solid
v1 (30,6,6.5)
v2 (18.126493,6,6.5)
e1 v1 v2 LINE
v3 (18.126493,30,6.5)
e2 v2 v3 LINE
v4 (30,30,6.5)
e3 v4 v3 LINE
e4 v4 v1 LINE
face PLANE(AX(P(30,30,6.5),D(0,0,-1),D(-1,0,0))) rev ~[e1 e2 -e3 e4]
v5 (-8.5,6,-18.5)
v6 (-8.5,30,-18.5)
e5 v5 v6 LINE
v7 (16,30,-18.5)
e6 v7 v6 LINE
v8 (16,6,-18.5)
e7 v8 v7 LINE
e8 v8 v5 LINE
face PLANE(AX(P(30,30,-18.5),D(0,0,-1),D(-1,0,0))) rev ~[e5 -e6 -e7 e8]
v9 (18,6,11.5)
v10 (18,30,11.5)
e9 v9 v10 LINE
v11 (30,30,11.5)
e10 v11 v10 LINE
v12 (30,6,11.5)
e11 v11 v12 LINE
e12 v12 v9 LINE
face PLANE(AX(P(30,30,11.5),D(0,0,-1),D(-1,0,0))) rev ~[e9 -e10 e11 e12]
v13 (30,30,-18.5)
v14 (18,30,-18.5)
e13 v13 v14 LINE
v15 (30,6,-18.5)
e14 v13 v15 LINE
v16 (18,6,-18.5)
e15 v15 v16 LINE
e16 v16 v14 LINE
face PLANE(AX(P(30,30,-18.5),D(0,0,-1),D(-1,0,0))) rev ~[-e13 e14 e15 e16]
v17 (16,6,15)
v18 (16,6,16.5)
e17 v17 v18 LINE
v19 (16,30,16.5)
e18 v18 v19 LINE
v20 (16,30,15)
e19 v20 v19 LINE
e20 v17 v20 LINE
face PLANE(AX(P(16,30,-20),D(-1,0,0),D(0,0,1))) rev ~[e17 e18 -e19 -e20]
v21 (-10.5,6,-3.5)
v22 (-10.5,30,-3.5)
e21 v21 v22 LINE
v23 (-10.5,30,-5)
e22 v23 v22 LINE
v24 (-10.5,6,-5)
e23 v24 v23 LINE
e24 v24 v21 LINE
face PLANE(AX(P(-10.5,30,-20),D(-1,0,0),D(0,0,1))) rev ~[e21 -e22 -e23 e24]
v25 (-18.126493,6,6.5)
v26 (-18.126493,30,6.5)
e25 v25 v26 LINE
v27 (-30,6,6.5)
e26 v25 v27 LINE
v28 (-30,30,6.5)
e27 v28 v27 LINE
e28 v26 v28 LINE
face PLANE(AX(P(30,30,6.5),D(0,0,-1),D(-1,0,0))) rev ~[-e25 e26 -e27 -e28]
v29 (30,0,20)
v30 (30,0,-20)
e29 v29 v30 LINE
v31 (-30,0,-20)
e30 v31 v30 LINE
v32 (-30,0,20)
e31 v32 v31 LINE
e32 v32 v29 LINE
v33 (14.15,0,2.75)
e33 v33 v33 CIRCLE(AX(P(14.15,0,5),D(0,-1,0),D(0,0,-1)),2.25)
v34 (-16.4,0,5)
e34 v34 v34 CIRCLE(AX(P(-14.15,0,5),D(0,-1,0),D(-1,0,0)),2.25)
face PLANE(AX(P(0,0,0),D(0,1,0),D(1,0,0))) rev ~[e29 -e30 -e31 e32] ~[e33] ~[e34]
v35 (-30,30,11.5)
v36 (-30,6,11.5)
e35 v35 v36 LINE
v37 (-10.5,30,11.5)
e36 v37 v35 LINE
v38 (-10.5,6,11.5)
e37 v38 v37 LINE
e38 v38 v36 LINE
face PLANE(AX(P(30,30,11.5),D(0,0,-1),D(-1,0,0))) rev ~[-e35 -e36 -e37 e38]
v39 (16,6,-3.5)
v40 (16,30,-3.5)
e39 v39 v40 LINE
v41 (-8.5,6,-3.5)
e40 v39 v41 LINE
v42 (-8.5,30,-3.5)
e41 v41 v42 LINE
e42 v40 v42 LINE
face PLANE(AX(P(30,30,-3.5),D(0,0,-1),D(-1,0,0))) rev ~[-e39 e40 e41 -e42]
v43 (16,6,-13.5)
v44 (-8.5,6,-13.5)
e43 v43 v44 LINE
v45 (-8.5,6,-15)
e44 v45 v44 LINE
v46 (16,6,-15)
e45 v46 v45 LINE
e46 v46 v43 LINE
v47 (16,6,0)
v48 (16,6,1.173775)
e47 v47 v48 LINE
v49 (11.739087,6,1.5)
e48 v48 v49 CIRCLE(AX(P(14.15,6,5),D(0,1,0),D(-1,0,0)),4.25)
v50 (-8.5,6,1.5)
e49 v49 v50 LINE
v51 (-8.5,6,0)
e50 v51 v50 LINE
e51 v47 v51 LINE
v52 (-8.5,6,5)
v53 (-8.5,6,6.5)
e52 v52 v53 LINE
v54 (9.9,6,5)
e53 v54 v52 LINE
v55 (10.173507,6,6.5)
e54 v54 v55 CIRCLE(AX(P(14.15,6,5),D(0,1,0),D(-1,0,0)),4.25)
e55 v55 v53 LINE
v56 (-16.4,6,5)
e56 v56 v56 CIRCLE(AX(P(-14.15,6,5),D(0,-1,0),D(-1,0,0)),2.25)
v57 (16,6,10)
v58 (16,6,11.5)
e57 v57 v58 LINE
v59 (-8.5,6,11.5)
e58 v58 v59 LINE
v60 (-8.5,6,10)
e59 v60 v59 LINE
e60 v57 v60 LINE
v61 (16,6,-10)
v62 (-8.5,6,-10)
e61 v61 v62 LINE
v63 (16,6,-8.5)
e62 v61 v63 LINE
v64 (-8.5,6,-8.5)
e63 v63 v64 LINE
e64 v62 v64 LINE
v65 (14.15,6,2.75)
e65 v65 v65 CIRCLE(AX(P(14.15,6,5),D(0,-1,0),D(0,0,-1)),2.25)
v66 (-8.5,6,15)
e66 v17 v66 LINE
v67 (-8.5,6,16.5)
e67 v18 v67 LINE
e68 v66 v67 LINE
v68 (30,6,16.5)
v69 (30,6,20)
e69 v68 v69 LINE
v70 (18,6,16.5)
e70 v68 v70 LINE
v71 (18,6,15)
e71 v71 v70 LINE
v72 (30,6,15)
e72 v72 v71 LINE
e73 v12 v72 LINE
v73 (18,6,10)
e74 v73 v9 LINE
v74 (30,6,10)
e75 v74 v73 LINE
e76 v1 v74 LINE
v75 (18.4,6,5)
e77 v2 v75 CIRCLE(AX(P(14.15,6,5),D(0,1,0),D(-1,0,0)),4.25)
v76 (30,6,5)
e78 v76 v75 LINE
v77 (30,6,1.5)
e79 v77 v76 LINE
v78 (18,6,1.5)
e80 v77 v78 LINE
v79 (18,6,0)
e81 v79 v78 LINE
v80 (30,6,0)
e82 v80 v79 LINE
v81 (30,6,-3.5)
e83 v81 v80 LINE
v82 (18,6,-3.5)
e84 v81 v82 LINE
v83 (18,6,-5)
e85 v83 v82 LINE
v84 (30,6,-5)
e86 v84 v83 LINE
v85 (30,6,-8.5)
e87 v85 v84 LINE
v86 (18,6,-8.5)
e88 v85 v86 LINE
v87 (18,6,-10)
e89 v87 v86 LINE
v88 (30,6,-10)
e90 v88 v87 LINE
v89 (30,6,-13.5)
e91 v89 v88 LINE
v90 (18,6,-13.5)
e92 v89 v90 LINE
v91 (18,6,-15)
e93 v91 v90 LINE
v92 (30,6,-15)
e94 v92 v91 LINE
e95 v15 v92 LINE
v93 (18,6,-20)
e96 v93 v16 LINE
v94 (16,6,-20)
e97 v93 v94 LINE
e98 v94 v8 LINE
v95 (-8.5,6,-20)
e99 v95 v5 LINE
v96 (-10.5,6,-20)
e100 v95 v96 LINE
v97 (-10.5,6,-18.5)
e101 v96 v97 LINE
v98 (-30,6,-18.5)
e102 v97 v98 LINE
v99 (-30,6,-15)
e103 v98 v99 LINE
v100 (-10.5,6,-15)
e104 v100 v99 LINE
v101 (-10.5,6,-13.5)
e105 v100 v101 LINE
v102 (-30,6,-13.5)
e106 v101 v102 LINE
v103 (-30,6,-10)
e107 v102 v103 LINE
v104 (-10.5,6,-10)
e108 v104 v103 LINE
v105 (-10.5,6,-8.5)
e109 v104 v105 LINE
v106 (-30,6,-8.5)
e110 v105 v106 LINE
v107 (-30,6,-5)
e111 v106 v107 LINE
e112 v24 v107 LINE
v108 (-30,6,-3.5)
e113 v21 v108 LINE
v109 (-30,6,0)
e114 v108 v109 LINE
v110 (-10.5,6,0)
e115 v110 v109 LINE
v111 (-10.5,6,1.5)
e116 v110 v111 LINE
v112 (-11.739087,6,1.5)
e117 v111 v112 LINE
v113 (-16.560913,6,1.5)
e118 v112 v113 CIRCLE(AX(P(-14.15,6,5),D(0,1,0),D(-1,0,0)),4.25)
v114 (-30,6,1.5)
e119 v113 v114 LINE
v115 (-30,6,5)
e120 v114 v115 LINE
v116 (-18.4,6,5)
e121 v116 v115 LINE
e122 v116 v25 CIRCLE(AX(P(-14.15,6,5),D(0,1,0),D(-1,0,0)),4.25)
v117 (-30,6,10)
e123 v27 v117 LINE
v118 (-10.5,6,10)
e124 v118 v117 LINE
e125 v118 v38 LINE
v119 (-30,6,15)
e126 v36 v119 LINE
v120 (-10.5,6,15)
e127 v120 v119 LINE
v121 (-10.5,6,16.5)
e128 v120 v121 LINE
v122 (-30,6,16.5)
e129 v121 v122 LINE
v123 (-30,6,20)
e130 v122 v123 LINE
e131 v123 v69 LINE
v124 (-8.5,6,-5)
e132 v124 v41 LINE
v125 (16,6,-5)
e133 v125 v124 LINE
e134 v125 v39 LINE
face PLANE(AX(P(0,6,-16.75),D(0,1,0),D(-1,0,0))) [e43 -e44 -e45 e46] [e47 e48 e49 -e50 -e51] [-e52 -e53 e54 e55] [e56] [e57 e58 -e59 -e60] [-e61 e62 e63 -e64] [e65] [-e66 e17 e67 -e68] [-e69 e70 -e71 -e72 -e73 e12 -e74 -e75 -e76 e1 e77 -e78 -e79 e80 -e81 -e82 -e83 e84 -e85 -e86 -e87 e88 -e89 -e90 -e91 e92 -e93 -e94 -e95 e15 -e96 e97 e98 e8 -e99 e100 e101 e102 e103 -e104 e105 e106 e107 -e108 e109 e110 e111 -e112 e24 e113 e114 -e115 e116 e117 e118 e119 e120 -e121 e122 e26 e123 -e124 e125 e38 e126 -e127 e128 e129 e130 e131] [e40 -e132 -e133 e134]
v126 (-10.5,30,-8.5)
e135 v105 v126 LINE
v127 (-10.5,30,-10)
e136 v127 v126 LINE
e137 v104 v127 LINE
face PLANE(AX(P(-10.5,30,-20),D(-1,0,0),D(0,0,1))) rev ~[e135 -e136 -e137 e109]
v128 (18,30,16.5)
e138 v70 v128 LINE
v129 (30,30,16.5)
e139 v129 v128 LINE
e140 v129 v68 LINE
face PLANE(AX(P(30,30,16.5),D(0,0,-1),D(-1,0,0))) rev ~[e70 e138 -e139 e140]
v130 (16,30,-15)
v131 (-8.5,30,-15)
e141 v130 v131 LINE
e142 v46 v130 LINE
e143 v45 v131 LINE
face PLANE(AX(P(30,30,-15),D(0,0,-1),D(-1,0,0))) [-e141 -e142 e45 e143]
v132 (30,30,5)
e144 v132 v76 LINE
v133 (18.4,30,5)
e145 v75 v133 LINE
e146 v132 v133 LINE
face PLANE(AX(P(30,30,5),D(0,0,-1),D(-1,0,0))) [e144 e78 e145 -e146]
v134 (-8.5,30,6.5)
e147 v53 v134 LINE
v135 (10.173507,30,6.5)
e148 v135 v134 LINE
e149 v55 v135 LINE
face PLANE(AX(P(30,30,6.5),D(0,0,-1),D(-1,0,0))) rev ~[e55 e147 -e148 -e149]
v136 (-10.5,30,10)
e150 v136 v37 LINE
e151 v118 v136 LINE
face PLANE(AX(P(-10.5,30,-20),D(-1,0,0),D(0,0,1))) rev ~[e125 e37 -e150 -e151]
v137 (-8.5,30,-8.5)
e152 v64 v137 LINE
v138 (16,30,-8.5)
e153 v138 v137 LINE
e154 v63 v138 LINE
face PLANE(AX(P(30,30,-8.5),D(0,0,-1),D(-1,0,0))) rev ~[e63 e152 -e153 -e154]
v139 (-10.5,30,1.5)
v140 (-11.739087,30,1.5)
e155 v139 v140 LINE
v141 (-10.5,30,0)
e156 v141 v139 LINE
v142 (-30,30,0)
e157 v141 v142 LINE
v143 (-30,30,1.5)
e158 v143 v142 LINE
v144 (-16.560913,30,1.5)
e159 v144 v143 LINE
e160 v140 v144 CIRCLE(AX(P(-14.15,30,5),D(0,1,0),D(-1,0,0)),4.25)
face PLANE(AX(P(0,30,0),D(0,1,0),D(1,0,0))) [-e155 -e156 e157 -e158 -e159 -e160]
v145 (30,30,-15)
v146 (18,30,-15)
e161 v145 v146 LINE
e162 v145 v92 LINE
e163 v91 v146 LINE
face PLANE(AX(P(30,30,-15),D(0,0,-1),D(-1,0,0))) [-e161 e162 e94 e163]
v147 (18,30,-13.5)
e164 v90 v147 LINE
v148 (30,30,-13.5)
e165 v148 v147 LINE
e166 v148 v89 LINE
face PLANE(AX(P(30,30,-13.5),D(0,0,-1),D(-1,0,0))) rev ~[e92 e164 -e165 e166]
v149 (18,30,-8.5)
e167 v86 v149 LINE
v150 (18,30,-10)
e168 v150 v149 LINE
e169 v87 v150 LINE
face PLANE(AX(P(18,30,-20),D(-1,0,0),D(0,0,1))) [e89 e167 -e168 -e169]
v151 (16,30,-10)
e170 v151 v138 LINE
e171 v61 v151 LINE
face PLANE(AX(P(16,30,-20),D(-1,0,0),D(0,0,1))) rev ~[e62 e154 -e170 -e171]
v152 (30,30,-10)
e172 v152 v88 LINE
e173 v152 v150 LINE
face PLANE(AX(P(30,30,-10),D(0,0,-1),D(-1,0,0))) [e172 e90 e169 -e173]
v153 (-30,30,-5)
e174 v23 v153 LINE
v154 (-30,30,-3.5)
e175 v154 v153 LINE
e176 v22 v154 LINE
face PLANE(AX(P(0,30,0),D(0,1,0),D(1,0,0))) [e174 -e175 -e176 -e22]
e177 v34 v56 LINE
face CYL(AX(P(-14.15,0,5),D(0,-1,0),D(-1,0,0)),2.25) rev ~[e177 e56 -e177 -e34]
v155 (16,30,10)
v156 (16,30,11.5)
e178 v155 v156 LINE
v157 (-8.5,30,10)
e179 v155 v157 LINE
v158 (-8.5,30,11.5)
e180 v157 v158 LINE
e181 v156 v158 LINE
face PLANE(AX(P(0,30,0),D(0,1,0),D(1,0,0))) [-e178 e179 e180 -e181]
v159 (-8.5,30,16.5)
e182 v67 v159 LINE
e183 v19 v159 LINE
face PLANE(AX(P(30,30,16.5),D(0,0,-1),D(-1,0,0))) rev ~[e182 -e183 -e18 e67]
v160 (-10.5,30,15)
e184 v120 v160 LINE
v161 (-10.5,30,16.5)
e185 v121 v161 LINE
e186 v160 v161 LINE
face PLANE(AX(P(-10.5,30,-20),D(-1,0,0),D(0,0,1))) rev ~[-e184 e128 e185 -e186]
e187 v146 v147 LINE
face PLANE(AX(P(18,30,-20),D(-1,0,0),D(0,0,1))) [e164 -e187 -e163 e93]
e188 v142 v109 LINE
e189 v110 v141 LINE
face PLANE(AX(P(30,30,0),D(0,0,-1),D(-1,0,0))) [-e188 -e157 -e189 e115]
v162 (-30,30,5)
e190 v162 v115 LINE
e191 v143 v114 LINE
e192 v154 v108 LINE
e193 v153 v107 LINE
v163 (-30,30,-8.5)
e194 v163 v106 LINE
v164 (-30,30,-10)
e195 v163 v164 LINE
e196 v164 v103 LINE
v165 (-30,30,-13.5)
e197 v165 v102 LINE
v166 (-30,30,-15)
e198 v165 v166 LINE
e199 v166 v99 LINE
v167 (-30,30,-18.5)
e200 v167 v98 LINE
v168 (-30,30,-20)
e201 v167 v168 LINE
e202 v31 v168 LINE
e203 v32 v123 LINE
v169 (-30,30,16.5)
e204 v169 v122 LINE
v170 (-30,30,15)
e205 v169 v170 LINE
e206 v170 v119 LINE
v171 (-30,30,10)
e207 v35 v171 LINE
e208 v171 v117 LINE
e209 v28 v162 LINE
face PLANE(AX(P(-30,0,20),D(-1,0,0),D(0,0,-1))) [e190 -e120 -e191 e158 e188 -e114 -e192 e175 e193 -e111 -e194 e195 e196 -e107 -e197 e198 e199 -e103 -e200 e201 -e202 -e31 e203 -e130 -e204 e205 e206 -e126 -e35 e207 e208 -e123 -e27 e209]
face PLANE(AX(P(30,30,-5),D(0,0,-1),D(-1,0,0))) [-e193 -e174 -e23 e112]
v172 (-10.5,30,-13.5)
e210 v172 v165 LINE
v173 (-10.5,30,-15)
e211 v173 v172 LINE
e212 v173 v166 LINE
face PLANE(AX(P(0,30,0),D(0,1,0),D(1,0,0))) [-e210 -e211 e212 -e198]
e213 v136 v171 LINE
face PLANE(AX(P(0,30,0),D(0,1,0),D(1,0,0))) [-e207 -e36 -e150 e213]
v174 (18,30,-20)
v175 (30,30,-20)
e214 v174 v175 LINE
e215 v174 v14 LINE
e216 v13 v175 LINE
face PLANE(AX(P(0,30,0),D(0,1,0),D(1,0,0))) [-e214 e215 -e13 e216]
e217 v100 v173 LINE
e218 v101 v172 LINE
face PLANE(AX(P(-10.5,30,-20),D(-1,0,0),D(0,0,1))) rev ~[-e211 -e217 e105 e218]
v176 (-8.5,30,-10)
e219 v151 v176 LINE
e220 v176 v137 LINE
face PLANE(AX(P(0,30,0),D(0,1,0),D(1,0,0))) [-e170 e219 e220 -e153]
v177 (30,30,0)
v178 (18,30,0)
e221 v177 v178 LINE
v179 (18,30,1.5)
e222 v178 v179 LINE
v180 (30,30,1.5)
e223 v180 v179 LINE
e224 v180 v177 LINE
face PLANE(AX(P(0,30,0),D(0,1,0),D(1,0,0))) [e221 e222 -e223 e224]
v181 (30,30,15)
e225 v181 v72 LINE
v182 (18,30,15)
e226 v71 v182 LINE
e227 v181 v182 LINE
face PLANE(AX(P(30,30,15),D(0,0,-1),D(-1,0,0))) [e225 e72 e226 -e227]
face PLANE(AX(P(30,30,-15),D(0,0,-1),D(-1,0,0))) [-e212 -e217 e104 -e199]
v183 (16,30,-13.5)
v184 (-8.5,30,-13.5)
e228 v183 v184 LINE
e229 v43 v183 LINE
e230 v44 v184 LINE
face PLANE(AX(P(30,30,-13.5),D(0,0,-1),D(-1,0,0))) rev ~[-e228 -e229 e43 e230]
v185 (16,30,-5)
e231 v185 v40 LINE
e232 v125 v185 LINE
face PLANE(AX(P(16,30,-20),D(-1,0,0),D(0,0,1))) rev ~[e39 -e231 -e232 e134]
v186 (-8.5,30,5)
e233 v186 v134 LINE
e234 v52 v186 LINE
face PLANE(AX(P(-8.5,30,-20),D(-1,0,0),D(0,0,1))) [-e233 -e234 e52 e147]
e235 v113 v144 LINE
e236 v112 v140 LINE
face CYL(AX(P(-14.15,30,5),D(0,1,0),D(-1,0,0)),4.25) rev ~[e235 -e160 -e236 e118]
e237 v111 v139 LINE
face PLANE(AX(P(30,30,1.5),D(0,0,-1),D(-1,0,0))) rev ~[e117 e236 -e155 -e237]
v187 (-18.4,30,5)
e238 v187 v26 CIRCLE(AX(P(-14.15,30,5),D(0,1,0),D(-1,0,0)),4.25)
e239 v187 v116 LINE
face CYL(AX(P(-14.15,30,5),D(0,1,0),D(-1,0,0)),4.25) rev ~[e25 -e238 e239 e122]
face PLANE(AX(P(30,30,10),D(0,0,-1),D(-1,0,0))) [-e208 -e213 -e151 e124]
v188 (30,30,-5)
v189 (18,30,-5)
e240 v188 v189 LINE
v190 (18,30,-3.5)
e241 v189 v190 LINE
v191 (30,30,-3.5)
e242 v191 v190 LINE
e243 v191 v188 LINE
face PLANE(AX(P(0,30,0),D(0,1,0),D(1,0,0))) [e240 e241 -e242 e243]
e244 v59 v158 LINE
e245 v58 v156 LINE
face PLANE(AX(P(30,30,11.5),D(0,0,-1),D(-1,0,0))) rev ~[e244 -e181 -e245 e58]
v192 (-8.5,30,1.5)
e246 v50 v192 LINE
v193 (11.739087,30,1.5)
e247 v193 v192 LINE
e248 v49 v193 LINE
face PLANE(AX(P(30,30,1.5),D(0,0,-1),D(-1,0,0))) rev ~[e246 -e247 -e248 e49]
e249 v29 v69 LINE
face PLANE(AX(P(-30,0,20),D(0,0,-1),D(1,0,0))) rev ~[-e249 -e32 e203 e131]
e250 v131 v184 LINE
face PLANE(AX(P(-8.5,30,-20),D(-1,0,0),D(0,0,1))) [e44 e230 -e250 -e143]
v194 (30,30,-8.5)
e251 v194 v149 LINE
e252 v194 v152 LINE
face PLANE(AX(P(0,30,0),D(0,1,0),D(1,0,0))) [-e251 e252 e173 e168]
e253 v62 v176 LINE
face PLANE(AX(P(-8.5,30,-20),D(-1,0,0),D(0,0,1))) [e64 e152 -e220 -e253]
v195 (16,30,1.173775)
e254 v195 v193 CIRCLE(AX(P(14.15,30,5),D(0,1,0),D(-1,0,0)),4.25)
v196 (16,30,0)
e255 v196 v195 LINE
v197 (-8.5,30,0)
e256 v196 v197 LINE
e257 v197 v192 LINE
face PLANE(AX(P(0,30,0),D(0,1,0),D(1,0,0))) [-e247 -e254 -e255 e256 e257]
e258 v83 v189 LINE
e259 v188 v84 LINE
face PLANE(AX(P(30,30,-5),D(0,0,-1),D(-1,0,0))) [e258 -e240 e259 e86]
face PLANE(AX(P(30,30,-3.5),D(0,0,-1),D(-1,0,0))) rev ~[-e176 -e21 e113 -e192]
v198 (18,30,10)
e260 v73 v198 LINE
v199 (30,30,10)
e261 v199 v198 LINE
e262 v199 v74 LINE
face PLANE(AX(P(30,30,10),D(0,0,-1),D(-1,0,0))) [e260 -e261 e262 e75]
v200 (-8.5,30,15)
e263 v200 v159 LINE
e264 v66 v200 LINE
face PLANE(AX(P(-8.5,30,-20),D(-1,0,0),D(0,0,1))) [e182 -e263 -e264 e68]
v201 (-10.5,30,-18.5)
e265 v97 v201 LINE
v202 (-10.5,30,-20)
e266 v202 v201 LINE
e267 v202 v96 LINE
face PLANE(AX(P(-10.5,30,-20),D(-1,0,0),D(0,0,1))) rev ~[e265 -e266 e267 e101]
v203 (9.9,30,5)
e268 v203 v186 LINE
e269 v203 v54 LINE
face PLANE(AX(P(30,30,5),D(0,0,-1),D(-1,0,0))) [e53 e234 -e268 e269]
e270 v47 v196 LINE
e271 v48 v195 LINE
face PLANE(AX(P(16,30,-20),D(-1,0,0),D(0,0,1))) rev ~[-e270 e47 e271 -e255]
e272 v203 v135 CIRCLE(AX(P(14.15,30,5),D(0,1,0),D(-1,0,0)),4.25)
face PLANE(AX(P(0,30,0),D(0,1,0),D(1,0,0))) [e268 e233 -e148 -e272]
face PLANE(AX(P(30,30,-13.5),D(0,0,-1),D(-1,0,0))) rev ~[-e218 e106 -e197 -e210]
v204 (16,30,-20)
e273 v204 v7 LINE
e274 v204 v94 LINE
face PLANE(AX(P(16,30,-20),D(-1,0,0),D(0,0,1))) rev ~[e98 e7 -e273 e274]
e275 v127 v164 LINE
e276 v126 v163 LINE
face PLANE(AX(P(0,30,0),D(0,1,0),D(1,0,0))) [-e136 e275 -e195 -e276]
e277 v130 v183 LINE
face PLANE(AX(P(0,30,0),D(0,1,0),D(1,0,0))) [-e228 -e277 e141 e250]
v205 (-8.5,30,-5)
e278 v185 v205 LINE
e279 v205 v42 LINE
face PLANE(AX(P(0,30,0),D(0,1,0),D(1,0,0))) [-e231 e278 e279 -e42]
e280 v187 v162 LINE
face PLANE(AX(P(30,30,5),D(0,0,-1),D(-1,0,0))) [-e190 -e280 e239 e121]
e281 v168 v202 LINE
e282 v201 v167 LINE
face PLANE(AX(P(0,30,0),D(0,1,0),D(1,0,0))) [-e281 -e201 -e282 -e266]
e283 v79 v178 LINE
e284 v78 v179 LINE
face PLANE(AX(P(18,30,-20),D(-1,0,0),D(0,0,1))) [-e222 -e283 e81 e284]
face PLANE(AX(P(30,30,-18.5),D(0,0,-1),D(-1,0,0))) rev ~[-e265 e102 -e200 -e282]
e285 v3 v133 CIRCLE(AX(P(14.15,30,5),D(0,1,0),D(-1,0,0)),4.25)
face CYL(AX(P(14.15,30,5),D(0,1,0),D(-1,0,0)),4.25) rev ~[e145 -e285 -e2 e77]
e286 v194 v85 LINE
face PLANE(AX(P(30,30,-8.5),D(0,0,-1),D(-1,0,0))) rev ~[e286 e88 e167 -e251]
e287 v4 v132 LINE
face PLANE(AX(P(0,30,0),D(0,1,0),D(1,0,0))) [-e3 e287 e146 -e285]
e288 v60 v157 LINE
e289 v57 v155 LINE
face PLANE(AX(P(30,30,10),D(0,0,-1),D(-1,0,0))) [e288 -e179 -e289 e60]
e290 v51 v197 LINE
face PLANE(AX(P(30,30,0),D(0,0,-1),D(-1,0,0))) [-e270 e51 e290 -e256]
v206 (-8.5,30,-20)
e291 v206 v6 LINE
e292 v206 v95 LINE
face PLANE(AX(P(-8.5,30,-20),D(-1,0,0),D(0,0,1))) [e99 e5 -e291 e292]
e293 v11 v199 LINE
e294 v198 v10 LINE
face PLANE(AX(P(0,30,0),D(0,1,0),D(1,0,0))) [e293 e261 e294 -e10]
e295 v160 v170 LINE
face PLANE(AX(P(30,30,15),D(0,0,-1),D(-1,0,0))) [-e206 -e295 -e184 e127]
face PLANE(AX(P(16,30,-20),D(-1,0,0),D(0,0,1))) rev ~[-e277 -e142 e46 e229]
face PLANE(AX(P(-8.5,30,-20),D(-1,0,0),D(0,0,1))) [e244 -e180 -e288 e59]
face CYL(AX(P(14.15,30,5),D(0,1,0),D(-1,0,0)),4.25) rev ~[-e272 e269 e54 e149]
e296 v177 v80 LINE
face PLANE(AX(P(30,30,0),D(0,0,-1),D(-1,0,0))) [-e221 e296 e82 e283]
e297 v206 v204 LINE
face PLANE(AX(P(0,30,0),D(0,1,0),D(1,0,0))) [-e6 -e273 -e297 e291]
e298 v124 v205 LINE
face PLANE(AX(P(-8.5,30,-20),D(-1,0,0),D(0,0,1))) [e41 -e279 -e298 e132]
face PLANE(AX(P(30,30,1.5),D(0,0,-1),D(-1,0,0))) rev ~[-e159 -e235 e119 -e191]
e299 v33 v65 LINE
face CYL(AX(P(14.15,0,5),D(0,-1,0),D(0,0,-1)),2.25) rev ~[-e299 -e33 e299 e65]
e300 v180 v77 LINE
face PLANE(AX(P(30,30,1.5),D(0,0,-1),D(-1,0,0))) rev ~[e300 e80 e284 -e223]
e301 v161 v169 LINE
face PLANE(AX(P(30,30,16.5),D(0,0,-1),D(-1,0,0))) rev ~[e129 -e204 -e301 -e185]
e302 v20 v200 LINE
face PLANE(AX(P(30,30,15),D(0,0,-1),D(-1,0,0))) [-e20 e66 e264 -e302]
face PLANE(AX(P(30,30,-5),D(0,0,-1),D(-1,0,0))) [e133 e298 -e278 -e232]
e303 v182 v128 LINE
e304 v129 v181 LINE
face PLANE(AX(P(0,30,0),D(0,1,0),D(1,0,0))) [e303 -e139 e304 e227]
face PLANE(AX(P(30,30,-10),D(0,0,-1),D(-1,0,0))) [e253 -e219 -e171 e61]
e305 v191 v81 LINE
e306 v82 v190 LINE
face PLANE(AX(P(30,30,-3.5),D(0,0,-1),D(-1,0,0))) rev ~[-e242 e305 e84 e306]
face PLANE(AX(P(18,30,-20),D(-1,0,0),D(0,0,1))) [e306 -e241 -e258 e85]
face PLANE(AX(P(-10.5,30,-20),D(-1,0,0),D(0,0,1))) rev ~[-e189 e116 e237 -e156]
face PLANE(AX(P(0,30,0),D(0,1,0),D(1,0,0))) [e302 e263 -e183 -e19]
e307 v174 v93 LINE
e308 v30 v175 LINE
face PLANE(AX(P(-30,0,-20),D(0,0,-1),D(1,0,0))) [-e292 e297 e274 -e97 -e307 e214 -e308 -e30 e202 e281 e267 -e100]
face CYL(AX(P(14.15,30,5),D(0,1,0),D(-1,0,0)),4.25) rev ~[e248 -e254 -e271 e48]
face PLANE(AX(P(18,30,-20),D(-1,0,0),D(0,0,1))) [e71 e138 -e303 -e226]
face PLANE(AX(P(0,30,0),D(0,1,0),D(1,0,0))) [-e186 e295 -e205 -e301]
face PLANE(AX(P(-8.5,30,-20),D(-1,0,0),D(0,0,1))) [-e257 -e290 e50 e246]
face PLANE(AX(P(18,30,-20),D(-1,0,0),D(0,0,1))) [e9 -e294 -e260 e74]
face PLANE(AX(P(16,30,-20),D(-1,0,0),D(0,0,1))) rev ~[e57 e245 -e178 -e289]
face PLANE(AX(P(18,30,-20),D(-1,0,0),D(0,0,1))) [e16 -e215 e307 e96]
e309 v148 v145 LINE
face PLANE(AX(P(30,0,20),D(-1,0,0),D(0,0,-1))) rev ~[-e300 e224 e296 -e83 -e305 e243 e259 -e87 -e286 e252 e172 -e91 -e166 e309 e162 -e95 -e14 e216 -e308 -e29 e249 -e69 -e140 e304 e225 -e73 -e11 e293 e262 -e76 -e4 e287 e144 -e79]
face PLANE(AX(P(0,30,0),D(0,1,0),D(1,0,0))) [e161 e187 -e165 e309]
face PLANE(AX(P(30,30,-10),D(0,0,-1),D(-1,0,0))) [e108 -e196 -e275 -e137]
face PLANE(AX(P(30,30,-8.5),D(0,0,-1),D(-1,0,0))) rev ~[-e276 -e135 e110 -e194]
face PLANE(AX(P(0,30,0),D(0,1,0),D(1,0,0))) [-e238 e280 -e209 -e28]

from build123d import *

# Parameters (mm, degrees)
SKETCH_1_W          = 60
SKETCH_1_H          = 40
EXTRUDE_1_DEPTH     = 30
SKETCH_2_W          = 60
SKETCH_2_H          = 3.5
CUT_EXTRUDE_1_DEPTH = 24
SKETCH_3_W          = 2
SKETCH_3_H          = 40
CUT_EXTRUDE_2_DEPTH = 24
SKETCH_4_R          = 2.25
CUT_EXTRUDE_3_DEPTH = 47.904157598
SKETCH_5_R          = 4.25
CUT_EXTRUDE_4_DEPTH = 24


with BuildPart() as part:
    # 草图1 → 拉伸1 (new body)
    with BuildSketch(Plane(origin=(0, 0, 0), x_dir=(1, 0, 0), z_dir=(0, 1, 0))):
        Rectangle(SKETCH_1_W, SKETCH_1_H)
    extrude(amount=EXTRUDE_1_DEPTH)

    # 草图2 → 切除-拉伸1 (cut)
    with BuildSketch(Plane(origin=(0, 30, 0), x_dir=(-1, 0, 0), z_dir=(0, 1, 0))):
        with Locations((0, -16.75)):
            Rectangle(SKETCH_2_W, SKETCH_2_H)
        with Locations((0, -11.75)):
            Rectangle(SKETCH_2_W, SKETCH_2_H)
        with Locations((0, -6.75)):
            Rectangle(SKETCH_2_W, SKETCH_2_H)
        with Locations((0, -1.75)):
            Rectangle(SKETCH_2_W, SKETCH_2_H)
        with Locations((0, 3.25)):
            Rectangle(SKETCH_2_W, SKETCH_2_H)
        with Locations((0, 8.25)):
            Rectangle(SKETCH_2_W, SKETCH_2_H)
        with Locations((0, 13.25)):
            Rectangle(SKETCH_2_W, SKETCH_2_H)
        with Locations((0, 18.25)):
            Rectangle(SKETCH_2_W, SKETCH_2_H)
    extrude(amount=-CUT_EXTRUDE_1_DEPTH, mode=Mode.SUBTRACT)

    # 草图3 → 切除-拉伸2 (cut)
    with BuildSketch(Plane(origin=(0, 30, 0), x_dir=(-1, 0, 0), z_dir=(0, 1, 0))):
        with Locations((-17, 0)):
            Rectangle(SKETCH_3_W, SKETCH_3_H)
        with Locations((9.5, 0)):
            Rectangle(SKETCH_3_W, SKETCH_3_H)
    extrude(amount=-CUT_EXTRUDE_2_DEPTH, mode=Mode.SUBTRACT)

    # 草图4 → 切除-拉伸3 (cut, through all)
    with BuildSketch(Plane.XZ):
        with Locations(Location((14.15, 5, 0), (0, 0, 270))):
            Circle(SKETCH_4_R)
        with Locations(Location((-14.15, 5, 0), (0, 0, 180))):
            Circle(SKETCH_4_R)
    extrude(amount=-CUT_EXTRUDE_3_DEPTH, mode=Mode.SUBTRACT)

    # 草图5 → 切除-拉伸4 (cut)
    with BuildSketch(Plane(origin=(0, 30, 0), x_dir=(-1, 0, 0), z_dir=(0, 1, 0))):
        with Locations((14.15, 5)):
            Circle(SKETCH_5_R)
        with Locations((-14.15, 5)):
            Circle(SKETCH_5_R)
    extrude(amount=-CUT_EXTRUDE_4_DEPTH, mode=Mode.SUBTRACT)


solid = part.part
